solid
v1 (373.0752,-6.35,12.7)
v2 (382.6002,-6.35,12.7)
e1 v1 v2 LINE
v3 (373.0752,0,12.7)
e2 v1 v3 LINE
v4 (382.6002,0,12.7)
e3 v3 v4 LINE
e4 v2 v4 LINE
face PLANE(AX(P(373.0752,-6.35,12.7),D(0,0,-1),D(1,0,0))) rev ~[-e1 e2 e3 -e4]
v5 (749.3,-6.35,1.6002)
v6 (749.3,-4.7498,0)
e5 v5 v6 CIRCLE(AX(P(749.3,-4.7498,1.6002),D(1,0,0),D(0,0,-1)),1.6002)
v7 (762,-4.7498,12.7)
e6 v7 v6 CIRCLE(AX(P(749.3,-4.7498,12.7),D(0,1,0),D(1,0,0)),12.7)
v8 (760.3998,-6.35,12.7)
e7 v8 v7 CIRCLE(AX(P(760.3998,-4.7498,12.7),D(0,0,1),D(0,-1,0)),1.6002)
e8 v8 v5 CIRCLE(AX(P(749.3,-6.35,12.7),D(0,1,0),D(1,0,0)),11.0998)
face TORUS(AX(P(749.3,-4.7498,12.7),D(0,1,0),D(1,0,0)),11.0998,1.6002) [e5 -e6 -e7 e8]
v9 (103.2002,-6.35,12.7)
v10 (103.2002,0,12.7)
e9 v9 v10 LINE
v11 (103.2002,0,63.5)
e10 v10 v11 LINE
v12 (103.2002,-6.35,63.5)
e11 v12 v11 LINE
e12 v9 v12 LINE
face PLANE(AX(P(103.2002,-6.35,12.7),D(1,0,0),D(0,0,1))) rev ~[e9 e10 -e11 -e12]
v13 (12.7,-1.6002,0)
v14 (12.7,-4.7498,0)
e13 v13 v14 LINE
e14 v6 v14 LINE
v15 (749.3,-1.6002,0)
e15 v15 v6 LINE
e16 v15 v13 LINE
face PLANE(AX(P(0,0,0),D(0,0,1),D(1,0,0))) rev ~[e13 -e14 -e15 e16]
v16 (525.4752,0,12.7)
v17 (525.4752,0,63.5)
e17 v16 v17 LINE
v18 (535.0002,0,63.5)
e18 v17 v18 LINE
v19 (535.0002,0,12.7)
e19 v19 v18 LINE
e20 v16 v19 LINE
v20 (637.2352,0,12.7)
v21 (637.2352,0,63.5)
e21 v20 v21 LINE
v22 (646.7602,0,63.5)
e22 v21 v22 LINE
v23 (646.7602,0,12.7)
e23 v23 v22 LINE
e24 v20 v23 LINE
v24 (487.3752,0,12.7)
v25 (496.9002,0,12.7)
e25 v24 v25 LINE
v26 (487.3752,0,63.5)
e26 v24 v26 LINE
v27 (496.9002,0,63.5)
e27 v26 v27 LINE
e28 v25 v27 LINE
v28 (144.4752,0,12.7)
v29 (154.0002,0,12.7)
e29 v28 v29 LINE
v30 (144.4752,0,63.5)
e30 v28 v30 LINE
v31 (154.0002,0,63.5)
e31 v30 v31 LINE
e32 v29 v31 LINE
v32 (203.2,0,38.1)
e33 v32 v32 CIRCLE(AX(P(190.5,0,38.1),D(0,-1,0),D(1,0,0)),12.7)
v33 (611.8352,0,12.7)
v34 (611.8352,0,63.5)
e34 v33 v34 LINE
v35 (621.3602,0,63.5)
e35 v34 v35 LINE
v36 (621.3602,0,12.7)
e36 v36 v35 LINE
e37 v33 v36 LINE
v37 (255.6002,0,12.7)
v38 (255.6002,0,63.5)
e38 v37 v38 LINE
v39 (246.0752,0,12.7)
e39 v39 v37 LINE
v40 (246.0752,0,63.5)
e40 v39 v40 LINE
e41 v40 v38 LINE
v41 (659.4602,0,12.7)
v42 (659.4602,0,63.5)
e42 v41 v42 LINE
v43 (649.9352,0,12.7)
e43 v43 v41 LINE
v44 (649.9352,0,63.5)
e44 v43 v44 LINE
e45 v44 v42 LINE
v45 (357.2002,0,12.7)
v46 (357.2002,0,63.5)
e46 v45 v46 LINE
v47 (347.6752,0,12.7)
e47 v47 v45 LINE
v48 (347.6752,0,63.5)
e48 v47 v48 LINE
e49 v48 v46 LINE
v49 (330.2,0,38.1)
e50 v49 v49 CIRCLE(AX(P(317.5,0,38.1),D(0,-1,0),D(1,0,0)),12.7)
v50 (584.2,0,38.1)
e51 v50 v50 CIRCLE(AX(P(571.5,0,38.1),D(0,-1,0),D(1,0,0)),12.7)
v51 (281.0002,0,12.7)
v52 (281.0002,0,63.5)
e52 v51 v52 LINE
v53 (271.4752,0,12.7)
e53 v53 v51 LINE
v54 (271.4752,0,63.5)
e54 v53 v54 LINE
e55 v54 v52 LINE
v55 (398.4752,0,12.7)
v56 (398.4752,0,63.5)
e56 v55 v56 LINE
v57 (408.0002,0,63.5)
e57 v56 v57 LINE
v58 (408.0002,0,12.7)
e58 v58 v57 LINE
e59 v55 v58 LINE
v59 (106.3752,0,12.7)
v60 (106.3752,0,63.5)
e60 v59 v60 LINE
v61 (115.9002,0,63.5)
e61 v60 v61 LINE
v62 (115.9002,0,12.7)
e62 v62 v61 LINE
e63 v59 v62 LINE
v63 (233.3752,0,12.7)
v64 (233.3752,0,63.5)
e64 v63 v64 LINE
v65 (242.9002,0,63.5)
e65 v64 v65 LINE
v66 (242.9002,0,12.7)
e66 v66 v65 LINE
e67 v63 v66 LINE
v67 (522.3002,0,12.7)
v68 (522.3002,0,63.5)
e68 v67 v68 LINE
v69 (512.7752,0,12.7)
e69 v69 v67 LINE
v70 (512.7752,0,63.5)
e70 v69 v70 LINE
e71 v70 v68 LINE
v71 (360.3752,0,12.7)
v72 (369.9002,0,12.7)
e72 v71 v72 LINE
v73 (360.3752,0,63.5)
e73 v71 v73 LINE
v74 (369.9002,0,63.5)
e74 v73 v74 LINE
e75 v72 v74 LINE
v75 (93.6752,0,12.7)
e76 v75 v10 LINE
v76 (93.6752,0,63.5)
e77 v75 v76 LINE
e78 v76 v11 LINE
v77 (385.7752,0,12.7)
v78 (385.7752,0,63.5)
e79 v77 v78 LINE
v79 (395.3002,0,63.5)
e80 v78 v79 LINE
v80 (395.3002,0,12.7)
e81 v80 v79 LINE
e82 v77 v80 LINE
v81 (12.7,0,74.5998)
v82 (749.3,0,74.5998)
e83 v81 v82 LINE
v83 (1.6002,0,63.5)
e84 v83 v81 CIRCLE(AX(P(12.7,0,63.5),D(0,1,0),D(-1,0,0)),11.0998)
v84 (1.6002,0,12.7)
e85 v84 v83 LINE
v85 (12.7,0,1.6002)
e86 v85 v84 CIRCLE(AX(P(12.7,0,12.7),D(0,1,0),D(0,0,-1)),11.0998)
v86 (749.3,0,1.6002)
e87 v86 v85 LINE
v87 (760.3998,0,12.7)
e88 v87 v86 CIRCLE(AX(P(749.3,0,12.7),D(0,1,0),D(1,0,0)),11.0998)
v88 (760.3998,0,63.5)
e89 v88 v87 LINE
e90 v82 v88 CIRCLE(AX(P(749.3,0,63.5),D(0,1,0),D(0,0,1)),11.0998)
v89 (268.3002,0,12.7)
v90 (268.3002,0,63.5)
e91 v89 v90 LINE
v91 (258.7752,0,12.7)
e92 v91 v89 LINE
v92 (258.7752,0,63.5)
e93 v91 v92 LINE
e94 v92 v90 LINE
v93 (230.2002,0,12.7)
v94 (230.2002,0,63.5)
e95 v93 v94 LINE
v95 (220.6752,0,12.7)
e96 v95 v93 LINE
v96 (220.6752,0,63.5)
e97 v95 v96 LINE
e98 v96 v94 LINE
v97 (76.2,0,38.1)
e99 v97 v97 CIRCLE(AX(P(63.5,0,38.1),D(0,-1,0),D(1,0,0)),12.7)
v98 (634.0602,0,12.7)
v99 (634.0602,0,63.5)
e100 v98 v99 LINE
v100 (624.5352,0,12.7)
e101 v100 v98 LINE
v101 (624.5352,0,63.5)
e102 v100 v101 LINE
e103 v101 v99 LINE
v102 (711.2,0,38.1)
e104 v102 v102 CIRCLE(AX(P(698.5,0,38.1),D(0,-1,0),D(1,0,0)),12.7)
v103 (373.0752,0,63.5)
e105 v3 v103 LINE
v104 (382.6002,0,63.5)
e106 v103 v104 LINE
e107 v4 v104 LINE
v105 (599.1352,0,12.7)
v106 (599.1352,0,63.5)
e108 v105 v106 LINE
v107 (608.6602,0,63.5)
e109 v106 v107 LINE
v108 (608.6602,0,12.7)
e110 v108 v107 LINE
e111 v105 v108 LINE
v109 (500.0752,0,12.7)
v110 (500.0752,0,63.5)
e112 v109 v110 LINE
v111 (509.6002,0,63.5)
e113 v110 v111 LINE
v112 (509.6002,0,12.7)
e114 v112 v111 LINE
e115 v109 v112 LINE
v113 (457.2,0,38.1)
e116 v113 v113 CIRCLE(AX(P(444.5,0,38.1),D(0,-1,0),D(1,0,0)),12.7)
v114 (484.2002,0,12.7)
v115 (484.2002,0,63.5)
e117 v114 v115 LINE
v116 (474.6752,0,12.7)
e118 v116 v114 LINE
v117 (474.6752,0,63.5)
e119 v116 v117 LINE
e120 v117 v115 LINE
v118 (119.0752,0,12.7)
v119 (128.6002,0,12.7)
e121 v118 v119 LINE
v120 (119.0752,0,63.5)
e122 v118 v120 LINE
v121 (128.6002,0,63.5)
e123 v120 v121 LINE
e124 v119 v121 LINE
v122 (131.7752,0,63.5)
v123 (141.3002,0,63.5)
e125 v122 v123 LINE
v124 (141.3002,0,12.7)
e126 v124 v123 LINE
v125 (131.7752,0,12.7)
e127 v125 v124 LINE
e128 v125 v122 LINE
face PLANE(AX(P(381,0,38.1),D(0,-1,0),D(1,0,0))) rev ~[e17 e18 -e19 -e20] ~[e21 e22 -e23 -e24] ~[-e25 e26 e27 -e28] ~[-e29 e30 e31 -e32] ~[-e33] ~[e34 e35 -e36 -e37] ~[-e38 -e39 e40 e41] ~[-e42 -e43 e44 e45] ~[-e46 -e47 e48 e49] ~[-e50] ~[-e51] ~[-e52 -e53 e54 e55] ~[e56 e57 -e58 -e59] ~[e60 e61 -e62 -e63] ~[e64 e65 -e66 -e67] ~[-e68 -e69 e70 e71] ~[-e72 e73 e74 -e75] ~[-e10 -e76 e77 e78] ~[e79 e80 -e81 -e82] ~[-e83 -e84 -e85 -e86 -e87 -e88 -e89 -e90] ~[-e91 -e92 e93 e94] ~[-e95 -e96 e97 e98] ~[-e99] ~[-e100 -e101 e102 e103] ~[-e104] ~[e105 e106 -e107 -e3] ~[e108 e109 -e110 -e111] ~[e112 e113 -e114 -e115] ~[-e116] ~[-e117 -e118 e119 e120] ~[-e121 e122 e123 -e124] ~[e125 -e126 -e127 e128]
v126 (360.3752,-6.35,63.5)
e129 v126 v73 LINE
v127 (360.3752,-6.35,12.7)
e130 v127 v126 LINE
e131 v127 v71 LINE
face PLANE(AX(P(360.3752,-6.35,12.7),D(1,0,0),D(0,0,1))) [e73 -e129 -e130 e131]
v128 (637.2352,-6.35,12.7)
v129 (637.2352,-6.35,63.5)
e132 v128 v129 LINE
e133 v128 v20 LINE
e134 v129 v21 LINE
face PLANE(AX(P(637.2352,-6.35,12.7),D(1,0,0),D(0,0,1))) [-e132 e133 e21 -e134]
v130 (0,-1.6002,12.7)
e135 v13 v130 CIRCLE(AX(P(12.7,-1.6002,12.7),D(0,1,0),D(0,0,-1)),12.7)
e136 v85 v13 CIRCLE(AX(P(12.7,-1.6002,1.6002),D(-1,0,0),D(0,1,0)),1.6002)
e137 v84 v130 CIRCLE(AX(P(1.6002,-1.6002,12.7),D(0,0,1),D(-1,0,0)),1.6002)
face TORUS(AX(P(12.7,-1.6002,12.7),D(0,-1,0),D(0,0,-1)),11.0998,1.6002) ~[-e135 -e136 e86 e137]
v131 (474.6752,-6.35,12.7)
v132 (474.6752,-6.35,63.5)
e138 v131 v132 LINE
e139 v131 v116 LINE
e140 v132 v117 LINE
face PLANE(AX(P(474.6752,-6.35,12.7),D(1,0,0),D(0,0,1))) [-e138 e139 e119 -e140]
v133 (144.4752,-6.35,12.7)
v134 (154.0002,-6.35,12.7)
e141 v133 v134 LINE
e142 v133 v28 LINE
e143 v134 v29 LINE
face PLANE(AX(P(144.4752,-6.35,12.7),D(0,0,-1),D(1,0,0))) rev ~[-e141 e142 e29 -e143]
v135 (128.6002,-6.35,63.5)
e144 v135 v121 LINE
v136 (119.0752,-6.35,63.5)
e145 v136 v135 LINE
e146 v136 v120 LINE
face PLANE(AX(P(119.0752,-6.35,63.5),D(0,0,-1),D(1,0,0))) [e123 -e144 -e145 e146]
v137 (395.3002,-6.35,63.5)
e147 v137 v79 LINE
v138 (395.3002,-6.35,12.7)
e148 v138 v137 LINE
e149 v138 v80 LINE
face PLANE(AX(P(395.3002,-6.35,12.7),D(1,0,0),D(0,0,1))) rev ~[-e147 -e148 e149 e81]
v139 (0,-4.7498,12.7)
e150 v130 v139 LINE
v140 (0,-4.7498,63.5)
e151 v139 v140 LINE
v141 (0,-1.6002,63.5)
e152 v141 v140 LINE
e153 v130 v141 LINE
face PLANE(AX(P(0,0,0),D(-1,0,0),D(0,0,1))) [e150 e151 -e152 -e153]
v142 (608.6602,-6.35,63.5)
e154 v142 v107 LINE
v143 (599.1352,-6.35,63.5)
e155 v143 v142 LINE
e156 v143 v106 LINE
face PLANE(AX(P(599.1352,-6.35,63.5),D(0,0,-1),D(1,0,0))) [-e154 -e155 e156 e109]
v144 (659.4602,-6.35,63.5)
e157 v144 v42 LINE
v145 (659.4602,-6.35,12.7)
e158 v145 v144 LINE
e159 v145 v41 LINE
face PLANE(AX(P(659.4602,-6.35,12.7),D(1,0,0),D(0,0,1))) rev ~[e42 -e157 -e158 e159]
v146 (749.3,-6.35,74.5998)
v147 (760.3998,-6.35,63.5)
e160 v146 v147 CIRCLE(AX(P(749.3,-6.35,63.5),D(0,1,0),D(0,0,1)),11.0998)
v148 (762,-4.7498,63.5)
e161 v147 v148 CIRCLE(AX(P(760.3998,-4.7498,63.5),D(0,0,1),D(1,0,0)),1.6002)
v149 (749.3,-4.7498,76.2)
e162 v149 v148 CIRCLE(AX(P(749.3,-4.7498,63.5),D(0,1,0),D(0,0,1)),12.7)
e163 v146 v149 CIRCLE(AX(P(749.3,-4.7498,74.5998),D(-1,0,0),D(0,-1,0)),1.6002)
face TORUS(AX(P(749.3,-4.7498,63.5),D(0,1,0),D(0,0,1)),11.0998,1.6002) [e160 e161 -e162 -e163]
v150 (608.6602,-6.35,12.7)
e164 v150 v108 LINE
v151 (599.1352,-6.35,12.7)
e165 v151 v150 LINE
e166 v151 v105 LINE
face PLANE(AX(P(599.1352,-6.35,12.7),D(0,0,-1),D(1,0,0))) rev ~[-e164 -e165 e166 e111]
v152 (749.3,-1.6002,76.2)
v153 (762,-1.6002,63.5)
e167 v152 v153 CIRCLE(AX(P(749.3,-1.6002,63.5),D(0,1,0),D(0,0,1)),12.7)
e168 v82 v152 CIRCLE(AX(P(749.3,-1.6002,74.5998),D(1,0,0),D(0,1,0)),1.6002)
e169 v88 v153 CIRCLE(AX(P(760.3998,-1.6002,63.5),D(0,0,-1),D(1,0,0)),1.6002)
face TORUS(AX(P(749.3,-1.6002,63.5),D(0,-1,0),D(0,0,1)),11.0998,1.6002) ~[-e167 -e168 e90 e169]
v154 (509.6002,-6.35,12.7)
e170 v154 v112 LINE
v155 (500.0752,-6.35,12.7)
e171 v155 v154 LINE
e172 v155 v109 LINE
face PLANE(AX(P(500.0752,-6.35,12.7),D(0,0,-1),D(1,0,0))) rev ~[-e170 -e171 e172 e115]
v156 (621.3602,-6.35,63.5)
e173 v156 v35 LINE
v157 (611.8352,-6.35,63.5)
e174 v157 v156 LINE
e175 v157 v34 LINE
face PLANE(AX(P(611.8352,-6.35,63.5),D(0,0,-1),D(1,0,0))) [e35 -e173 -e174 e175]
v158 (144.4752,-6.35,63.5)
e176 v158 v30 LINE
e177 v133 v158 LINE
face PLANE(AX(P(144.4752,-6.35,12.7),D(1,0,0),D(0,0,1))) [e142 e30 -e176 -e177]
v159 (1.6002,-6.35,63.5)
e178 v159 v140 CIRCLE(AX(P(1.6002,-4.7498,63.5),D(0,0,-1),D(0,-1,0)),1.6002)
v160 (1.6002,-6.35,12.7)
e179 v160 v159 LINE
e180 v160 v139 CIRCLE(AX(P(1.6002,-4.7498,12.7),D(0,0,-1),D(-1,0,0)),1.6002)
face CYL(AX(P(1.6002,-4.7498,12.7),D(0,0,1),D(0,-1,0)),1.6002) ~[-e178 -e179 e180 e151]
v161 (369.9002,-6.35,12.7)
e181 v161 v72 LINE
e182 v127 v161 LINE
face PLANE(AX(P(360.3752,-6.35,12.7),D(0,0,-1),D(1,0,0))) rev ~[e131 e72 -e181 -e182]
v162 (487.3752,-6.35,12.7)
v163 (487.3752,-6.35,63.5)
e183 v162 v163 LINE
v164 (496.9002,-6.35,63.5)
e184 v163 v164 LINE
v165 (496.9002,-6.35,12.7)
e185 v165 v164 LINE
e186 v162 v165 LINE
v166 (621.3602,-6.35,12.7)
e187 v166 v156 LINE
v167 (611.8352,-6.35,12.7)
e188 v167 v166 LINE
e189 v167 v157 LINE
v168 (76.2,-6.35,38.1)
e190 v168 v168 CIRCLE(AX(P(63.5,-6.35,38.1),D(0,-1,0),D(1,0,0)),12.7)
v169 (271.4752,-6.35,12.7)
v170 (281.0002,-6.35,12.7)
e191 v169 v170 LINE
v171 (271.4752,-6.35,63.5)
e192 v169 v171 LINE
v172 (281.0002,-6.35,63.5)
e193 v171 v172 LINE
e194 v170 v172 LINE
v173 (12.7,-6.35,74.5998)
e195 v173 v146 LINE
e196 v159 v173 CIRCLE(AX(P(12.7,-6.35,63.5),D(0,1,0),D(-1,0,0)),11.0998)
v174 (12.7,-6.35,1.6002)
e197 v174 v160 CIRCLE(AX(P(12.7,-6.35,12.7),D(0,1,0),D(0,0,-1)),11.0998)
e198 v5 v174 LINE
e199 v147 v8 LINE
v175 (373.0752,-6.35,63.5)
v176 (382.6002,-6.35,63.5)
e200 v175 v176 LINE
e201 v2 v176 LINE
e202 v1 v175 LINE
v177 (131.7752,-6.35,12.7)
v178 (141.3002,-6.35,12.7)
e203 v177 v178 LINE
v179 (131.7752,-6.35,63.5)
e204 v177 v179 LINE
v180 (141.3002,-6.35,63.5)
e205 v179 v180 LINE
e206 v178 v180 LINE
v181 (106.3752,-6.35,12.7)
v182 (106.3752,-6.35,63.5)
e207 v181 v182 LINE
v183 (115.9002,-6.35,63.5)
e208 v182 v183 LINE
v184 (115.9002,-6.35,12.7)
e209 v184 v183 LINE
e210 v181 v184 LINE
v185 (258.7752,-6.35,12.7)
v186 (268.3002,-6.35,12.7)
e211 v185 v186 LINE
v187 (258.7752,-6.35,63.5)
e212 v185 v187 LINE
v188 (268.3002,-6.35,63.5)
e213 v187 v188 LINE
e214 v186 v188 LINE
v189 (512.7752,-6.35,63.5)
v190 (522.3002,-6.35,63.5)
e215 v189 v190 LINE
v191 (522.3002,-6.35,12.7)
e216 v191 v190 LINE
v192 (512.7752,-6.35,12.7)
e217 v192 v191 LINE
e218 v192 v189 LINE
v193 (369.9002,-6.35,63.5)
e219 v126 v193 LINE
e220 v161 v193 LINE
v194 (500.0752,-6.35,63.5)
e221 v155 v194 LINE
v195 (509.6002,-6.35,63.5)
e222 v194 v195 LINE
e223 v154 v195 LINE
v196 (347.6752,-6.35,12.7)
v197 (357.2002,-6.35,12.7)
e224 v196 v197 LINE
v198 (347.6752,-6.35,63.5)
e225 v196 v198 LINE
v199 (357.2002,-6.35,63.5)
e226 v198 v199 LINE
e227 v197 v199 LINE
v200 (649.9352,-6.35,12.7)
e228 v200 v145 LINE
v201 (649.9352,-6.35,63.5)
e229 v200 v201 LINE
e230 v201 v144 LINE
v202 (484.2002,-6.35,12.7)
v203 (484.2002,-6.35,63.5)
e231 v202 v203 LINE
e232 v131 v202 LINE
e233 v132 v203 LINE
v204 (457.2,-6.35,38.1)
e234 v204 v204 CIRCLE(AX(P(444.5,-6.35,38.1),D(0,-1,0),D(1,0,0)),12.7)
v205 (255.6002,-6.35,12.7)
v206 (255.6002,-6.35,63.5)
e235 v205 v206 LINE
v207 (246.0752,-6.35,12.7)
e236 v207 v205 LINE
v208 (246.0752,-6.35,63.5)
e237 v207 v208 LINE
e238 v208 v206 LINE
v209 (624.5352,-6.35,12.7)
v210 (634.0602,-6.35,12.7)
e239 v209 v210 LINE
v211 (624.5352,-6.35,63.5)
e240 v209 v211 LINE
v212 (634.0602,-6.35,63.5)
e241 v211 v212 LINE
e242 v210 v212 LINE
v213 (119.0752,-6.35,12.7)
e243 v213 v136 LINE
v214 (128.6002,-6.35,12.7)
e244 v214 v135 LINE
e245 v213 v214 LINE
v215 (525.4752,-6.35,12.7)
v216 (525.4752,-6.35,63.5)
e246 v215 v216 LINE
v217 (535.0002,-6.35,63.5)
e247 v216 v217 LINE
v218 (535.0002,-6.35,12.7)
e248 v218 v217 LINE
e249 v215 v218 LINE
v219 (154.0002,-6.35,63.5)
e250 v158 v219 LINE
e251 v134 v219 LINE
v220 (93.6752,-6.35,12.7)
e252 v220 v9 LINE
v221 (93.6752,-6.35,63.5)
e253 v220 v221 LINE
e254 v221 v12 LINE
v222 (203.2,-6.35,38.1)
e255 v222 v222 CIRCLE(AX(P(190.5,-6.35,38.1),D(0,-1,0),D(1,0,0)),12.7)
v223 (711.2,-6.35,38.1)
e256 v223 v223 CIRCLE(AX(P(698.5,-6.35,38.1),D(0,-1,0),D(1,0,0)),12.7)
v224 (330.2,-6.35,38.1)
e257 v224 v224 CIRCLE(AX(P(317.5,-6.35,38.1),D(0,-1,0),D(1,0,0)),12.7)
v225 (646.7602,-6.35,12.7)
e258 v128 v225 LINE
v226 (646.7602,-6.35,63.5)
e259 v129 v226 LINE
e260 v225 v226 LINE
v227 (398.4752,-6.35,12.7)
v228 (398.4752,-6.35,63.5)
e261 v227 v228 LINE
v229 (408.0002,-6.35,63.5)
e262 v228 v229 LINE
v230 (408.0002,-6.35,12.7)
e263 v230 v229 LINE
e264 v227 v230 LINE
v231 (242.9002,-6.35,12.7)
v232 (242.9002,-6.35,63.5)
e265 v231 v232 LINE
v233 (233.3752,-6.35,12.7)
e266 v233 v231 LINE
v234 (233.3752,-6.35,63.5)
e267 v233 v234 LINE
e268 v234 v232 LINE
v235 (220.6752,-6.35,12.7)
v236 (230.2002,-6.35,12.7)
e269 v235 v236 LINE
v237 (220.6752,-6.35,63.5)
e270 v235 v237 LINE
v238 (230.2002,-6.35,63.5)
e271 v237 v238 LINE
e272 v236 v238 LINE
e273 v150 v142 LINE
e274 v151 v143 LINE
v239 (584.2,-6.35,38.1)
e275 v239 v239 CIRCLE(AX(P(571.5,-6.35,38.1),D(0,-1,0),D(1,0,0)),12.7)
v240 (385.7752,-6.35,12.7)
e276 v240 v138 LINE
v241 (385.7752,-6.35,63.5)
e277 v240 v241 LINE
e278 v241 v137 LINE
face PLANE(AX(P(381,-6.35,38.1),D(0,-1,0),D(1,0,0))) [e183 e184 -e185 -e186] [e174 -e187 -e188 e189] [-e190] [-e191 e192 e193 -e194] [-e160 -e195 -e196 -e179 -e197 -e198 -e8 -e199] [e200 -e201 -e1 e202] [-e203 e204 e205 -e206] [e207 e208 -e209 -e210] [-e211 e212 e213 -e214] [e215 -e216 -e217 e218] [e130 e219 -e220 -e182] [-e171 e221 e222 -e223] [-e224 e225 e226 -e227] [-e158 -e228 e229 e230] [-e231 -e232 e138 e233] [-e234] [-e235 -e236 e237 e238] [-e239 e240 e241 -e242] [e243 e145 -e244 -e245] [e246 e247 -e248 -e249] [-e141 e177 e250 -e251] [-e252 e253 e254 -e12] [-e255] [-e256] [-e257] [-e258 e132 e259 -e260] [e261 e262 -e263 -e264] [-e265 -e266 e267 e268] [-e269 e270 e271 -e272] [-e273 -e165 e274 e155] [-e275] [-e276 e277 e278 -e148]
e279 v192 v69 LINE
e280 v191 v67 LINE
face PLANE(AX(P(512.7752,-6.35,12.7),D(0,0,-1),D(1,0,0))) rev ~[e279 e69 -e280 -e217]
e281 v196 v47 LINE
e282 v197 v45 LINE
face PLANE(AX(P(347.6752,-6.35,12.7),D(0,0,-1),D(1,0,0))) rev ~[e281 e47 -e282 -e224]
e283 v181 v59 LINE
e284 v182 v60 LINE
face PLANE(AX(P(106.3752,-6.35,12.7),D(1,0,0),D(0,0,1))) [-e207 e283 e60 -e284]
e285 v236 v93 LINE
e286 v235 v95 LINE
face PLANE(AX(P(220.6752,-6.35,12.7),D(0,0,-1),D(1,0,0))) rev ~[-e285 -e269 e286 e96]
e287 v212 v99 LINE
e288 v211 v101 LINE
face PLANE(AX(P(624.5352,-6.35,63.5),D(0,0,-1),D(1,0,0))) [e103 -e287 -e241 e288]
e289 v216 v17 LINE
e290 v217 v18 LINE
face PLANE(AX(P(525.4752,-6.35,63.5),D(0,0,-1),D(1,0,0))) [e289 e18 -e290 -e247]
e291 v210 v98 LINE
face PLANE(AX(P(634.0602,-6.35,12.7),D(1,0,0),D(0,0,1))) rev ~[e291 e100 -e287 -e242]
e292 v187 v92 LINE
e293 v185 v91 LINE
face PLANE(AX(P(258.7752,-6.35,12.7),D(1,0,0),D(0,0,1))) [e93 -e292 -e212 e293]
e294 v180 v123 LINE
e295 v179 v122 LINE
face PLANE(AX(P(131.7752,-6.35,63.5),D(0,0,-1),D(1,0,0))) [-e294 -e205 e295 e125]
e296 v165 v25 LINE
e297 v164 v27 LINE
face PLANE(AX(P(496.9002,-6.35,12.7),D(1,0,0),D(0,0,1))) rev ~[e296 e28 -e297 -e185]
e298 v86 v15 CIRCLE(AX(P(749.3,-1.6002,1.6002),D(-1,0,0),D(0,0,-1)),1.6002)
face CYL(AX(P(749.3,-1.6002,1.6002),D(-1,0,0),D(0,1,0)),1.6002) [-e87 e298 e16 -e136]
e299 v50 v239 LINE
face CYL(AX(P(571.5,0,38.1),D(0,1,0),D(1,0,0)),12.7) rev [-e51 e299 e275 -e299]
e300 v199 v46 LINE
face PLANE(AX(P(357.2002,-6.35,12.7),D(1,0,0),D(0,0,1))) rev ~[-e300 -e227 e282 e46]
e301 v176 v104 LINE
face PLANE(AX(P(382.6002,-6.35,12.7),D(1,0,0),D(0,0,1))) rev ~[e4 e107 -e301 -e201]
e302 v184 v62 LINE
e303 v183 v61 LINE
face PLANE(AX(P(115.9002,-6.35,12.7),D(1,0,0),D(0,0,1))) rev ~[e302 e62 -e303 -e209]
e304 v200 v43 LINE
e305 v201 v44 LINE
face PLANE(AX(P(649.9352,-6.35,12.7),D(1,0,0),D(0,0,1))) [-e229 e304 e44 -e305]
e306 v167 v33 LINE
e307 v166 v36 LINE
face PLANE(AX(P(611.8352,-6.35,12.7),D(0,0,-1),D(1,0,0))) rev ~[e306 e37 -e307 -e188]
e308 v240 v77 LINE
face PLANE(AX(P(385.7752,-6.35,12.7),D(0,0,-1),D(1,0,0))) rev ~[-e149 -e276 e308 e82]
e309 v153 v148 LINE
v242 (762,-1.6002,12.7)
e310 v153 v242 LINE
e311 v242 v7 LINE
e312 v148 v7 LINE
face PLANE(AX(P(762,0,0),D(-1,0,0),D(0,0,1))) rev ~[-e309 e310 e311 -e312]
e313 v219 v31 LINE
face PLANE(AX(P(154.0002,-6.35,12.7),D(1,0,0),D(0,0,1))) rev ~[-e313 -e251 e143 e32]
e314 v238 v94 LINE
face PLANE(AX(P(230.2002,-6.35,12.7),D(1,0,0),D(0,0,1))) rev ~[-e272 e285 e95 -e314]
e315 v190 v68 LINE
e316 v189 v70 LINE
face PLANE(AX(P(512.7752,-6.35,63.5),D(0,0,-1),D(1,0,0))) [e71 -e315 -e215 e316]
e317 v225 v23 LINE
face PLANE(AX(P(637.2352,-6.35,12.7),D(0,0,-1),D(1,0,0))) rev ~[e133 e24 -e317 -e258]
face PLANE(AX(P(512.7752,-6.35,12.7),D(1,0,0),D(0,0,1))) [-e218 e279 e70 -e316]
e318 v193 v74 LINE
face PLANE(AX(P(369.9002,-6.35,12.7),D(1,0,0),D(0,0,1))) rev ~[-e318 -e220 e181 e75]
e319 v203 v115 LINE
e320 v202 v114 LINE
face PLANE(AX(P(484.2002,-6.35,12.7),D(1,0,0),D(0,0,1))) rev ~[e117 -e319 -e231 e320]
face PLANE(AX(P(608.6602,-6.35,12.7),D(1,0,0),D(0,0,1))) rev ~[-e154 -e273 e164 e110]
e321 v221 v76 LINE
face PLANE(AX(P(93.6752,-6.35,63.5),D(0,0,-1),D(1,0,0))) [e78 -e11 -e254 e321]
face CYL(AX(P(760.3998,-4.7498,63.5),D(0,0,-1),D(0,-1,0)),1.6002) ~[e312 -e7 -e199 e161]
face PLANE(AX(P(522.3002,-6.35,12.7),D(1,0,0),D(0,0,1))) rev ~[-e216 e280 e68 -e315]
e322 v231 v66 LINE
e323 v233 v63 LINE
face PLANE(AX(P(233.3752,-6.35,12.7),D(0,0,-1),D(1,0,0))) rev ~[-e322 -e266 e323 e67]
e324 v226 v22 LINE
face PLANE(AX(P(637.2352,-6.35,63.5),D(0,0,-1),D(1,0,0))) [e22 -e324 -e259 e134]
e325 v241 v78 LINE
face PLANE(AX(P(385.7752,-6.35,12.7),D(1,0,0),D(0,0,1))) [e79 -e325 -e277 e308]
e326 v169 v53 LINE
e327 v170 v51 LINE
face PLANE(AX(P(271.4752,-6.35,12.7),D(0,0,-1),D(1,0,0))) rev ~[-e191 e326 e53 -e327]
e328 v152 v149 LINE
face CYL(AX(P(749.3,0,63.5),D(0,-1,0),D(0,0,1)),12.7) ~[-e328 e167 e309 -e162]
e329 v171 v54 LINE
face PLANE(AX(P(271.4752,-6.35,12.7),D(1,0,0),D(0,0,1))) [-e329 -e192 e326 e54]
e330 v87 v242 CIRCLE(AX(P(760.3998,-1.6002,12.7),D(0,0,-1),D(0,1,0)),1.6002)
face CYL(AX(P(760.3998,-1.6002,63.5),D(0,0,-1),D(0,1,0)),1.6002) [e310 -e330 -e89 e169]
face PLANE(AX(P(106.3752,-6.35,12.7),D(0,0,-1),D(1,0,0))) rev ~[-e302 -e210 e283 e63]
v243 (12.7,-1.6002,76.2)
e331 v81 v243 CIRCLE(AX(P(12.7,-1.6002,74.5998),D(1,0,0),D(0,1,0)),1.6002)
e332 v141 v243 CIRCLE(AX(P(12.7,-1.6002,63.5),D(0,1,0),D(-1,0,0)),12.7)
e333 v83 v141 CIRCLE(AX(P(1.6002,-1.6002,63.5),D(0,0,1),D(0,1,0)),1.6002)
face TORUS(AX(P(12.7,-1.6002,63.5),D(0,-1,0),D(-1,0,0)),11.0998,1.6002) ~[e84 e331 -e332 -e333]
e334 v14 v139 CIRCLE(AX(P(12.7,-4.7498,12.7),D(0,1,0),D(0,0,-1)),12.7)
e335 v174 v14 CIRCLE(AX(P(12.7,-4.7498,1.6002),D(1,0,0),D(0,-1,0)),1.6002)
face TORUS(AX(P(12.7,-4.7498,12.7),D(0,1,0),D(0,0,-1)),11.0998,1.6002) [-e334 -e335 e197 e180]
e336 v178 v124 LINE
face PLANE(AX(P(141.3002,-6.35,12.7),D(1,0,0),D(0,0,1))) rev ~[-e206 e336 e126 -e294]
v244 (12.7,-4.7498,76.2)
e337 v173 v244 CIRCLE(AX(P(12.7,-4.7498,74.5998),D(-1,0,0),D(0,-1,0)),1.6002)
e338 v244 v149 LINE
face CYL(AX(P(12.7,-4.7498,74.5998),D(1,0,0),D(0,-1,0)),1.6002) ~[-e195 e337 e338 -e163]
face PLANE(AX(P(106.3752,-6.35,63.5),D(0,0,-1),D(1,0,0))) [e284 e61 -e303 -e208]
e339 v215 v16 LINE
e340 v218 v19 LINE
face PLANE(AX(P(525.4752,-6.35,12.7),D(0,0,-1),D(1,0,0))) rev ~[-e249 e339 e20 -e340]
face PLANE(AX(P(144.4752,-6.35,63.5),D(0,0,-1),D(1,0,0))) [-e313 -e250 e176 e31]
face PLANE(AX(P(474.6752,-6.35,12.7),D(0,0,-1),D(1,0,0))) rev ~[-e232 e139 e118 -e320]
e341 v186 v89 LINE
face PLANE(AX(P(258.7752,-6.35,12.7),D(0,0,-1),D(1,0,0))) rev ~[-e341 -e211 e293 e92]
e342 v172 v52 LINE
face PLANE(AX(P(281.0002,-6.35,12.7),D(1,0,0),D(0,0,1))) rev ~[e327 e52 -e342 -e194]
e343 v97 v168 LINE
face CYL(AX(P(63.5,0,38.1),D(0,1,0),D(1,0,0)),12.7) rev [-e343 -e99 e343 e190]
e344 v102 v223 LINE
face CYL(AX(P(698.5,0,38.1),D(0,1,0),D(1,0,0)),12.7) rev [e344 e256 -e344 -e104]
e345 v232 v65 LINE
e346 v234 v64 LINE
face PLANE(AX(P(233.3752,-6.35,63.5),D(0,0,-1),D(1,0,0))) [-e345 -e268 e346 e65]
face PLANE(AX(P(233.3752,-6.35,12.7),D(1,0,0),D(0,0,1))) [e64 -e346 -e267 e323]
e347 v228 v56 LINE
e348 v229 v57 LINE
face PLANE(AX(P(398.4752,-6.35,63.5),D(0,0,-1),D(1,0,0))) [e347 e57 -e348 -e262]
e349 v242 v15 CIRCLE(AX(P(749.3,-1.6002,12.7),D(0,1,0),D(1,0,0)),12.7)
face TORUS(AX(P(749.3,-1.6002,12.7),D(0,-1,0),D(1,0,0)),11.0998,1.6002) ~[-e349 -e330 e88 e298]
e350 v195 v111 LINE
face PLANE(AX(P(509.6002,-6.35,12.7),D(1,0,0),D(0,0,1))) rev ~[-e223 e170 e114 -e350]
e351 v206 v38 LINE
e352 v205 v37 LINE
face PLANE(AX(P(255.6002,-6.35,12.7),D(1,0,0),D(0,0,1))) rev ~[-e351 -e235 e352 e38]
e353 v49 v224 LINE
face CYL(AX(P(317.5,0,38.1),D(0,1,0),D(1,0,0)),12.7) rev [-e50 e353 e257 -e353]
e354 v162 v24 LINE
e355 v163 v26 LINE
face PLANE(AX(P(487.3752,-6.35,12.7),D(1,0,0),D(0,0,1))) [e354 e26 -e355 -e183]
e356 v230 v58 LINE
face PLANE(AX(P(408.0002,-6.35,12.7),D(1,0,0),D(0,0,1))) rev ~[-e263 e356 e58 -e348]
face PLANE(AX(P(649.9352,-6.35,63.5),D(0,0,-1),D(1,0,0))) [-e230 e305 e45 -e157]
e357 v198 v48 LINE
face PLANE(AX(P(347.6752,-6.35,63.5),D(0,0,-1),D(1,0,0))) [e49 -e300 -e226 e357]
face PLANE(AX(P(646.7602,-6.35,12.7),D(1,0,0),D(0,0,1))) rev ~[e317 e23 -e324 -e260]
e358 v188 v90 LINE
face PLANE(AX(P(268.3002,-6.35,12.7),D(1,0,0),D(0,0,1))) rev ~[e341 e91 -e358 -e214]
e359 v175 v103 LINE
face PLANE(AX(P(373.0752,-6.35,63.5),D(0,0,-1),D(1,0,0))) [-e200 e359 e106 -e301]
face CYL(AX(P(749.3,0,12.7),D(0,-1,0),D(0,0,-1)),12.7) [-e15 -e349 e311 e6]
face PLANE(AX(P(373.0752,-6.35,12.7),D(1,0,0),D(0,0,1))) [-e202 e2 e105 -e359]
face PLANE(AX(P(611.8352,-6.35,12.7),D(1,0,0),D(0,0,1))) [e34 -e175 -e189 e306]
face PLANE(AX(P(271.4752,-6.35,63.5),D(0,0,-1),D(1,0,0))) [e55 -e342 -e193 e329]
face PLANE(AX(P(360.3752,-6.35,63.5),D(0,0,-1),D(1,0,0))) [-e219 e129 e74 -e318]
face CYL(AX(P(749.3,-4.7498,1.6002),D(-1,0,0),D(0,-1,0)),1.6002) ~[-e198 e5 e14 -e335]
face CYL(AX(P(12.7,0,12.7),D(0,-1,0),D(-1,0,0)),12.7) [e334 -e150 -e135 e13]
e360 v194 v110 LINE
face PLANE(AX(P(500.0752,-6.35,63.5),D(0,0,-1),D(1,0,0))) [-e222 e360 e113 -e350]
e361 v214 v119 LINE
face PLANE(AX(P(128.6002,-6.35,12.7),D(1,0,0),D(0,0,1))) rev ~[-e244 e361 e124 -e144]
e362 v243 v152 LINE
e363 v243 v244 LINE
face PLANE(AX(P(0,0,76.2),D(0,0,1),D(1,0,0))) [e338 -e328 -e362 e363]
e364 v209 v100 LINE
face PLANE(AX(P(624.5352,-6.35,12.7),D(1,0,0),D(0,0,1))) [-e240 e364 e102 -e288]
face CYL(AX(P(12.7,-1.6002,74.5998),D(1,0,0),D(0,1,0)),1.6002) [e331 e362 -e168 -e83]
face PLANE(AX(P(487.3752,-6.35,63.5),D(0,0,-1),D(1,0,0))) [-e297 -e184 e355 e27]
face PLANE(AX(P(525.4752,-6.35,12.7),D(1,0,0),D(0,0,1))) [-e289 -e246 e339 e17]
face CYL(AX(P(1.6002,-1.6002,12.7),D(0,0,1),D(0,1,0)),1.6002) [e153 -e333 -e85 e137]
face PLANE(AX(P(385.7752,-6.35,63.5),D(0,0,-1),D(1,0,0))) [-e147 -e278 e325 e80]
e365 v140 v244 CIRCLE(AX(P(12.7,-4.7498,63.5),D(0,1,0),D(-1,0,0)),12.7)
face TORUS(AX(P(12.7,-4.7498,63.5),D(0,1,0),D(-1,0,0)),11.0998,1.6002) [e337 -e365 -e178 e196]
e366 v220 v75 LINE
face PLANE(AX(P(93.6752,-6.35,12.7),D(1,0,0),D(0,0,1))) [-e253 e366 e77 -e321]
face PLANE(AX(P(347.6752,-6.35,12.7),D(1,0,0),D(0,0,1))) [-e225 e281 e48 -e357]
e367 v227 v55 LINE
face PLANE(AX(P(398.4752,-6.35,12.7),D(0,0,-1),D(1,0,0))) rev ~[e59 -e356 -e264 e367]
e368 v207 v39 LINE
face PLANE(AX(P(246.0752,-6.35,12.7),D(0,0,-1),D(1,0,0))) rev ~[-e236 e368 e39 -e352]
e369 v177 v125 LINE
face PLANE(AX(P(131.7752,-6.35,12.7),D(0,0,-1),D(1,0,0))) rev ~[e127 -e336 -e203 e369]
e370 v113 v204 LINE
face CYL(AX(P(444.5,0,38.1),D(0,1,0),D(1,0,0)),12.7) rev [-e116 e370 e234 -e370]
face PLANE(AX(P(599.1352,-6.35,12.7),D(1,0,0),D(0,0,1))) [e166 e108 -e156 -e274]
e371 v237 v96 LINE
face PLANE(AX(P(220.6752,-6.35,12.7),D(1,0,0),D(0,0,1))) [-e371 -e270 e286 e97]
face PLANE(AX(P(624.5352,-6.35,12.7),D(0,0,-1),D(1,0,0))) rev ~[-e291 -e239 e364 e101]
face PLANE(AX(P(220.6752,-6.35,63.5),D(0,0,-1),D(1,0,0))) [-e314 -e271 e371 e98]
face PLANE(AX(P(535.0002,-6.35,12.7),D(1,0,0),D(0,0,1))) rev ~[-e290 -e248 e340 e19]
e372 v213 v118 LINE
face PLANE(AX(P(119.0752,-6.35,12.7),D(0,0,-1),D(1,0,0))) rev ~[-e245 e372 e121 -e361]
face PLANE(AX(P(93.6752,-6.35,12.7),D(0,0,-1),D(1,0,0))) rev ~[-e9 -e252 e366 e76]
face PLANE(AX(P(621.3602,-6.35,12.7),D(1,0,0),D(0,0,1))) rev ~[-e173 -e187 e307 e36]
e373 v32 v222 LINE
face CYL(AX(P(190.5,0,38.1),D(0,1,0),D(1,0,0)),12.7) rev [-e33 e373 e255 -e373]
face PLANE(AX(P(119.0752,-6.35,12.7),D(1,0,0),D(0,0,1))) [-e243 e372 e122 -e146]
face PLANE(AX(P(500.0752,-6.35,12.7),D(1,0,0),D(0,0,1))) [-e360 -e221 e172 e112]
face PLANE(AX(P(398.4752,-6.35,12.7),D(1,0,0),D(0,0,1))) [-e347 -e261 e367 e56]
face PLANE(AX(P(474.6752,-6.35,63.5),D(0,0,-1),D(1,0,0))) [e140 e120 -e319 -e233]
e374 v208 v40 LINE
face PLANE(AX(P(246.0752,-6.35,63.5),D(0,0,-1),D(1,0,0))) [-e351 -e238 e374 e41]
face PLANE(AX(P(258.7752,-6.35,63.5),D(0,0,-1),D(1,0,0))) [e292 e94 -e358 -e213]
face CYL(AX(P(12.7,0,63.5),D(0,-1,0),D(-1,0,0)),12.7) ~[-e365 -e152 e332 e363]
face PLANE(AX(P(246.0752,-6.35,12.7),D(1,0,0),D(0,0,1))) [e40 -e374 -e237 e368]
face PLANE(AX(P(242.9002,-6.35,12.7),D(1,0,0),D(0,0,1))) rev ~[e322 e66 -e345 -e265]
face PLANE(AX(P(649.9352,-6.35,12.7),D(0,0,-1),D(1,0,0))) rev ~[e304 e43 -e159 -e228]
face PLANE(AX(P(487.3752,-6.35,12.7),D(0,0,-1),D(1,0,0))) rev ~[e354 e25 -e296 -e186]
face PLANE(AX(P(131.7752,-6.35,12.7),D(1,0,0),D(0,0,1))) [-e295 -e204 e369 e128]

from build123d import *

# Parameters (mm, degrees)
F0_W     = 762
F0_H     = 76.2
F0_R     = 12.7
F1_DEPTH = 6.35
F2_W     = 9.525
F2_H     = 50.8
F3_DEPTH = 6.351
F4_R     = 12.7
F5_R     = 1.6002


with BuildPart() as f1:
    # F0 (on Front) → F1 (new body)
    with BuildSketch(Plane.XZ):
        with Locations((381, 38.1)):
            Rectangle(F0_W, F0_H)
        with Locations((63.5, 38.1)):
            Circle(F0_R, mode=Mode.SUBTRACT)
        with Locations((190.5, 38.1)):
            Circle(F0_R, mode=Mode.SUBTRACT)
        with Locations((317.5, 38.1)):
            Circle(F0_R, mode=Mode.SUBTRACT)
        with Locations((444.5, 38.1)):
            Circle(F0_R, mode=Mode.SUBTRACT)
        with Locations((571.5, 38.1)):
            Circle(F0_R, mode=Mode.SUBTRACT)
        with Locations((698.5, 38.1)):
            Circle(F0_R, mode=Mode.SUBTRACT)
    extrude(amount=F1_DEPTH)

    # F2 (on face) → F3 (cut, through all)
    with BuildSketch(Plane.XZ.offset(6.35)):
        with Locations((149.2377, 38.1)):
            Rectangle(F2_W, F2_H)
        with Locations((136.5377, 38.1)):
            Rectangle(F2_W, F2_H)
        with Locations((123.8377, 38.1)):
            Rectangle(F2_W, F2_H)
        with Locations((111.1377, 38.1)):
            Rectangle(F2_W, F2_H)
        with Locations((98.4377, 38.1)):
            Rectangle(F2_W, F2_H)
        with Locations((225.4377, 38.1)):
            Rectangle(F2_W, F2_H)
        with Locations((238.1377, 38.1)):
            Rectangle(F2_W, F2_H)
        with Locations((250.8377, 38.1)):
            Rectangle(F2_W, F2_H)
        with Locations((263.5377, 38.1)):
            Rectangle(F2_W, F2_H)
        with Locations((276.2377, 38.1)):
            Rectangle(F2_W, F2_H)
        with Locations((352.4377, 38.1)):
            Rectangle(F2_W, F2_H)
        with Locations((365.1377, 38.1)):
            Rectangle(F2_W, F2_H)
        with Locations((377.8377, 38.1)):
            Rectangle(F2_W, F2_H)
        with Locations((390.5377, 38.1)):
            Rectangle(F2_W, F2_H)
        with Locations((403.2377, 38.1)):
            Rectangle(F2_W, F2_H)
        with Locations((479.4377, 38.1)):
            Rectangle(F2_W, F2_H)
        with Locations((492.1377, 38.1)):
            Rectangle(F2_W, F2_H)
        with Locations((504.8377, 38.1)):
            Rectangle(F2_W, F2_H)
        with Locations((517.5377, 38.1)):
            Rectangle(F2_W, F2_H)
        with Locations((530.2377, 38.1)):
            Rectangle(F2_W, F2_H)
        with Locations((603.8977, 38.1)):
            Rectangle(F2_W, F2_H)
        with Locations((616.5977, 38.1)):
            Rectangle(F2_W, F2_H)
        with Locations((629.2977, 38.1)):
            Rectangle(F2_W, F2_H)
        with Locations((654.6977, 38.1)):
            Rectangle(F2_W, F2_H)
        with Locations((641.9977, 38.1)):
            Rectangle(F2_W, F2_H)
    extrude(amount=-F3_DEPTH, mode=Mode.SUBTRACT)

    # F4
    f4_edges = [f1.edges().sort_by_distance(p)[0] for p in [
        (0, -3.175, 76.2),
        (0, -3.175, 0),
        (762, -3.175, 76.2),
        (762, -3.175, 0),
    ]]
    fillet(f4_edges, radius=F4_R)

    # F5
    f5_edges = [f1.edges().sort_by_distance(p)[0] for p in [
        (381, -6.35, 76.2),
        (381, 0, 76.2),
    ]]
    fillet(f5_edges, radius=F5_R)


solid = f1.part
